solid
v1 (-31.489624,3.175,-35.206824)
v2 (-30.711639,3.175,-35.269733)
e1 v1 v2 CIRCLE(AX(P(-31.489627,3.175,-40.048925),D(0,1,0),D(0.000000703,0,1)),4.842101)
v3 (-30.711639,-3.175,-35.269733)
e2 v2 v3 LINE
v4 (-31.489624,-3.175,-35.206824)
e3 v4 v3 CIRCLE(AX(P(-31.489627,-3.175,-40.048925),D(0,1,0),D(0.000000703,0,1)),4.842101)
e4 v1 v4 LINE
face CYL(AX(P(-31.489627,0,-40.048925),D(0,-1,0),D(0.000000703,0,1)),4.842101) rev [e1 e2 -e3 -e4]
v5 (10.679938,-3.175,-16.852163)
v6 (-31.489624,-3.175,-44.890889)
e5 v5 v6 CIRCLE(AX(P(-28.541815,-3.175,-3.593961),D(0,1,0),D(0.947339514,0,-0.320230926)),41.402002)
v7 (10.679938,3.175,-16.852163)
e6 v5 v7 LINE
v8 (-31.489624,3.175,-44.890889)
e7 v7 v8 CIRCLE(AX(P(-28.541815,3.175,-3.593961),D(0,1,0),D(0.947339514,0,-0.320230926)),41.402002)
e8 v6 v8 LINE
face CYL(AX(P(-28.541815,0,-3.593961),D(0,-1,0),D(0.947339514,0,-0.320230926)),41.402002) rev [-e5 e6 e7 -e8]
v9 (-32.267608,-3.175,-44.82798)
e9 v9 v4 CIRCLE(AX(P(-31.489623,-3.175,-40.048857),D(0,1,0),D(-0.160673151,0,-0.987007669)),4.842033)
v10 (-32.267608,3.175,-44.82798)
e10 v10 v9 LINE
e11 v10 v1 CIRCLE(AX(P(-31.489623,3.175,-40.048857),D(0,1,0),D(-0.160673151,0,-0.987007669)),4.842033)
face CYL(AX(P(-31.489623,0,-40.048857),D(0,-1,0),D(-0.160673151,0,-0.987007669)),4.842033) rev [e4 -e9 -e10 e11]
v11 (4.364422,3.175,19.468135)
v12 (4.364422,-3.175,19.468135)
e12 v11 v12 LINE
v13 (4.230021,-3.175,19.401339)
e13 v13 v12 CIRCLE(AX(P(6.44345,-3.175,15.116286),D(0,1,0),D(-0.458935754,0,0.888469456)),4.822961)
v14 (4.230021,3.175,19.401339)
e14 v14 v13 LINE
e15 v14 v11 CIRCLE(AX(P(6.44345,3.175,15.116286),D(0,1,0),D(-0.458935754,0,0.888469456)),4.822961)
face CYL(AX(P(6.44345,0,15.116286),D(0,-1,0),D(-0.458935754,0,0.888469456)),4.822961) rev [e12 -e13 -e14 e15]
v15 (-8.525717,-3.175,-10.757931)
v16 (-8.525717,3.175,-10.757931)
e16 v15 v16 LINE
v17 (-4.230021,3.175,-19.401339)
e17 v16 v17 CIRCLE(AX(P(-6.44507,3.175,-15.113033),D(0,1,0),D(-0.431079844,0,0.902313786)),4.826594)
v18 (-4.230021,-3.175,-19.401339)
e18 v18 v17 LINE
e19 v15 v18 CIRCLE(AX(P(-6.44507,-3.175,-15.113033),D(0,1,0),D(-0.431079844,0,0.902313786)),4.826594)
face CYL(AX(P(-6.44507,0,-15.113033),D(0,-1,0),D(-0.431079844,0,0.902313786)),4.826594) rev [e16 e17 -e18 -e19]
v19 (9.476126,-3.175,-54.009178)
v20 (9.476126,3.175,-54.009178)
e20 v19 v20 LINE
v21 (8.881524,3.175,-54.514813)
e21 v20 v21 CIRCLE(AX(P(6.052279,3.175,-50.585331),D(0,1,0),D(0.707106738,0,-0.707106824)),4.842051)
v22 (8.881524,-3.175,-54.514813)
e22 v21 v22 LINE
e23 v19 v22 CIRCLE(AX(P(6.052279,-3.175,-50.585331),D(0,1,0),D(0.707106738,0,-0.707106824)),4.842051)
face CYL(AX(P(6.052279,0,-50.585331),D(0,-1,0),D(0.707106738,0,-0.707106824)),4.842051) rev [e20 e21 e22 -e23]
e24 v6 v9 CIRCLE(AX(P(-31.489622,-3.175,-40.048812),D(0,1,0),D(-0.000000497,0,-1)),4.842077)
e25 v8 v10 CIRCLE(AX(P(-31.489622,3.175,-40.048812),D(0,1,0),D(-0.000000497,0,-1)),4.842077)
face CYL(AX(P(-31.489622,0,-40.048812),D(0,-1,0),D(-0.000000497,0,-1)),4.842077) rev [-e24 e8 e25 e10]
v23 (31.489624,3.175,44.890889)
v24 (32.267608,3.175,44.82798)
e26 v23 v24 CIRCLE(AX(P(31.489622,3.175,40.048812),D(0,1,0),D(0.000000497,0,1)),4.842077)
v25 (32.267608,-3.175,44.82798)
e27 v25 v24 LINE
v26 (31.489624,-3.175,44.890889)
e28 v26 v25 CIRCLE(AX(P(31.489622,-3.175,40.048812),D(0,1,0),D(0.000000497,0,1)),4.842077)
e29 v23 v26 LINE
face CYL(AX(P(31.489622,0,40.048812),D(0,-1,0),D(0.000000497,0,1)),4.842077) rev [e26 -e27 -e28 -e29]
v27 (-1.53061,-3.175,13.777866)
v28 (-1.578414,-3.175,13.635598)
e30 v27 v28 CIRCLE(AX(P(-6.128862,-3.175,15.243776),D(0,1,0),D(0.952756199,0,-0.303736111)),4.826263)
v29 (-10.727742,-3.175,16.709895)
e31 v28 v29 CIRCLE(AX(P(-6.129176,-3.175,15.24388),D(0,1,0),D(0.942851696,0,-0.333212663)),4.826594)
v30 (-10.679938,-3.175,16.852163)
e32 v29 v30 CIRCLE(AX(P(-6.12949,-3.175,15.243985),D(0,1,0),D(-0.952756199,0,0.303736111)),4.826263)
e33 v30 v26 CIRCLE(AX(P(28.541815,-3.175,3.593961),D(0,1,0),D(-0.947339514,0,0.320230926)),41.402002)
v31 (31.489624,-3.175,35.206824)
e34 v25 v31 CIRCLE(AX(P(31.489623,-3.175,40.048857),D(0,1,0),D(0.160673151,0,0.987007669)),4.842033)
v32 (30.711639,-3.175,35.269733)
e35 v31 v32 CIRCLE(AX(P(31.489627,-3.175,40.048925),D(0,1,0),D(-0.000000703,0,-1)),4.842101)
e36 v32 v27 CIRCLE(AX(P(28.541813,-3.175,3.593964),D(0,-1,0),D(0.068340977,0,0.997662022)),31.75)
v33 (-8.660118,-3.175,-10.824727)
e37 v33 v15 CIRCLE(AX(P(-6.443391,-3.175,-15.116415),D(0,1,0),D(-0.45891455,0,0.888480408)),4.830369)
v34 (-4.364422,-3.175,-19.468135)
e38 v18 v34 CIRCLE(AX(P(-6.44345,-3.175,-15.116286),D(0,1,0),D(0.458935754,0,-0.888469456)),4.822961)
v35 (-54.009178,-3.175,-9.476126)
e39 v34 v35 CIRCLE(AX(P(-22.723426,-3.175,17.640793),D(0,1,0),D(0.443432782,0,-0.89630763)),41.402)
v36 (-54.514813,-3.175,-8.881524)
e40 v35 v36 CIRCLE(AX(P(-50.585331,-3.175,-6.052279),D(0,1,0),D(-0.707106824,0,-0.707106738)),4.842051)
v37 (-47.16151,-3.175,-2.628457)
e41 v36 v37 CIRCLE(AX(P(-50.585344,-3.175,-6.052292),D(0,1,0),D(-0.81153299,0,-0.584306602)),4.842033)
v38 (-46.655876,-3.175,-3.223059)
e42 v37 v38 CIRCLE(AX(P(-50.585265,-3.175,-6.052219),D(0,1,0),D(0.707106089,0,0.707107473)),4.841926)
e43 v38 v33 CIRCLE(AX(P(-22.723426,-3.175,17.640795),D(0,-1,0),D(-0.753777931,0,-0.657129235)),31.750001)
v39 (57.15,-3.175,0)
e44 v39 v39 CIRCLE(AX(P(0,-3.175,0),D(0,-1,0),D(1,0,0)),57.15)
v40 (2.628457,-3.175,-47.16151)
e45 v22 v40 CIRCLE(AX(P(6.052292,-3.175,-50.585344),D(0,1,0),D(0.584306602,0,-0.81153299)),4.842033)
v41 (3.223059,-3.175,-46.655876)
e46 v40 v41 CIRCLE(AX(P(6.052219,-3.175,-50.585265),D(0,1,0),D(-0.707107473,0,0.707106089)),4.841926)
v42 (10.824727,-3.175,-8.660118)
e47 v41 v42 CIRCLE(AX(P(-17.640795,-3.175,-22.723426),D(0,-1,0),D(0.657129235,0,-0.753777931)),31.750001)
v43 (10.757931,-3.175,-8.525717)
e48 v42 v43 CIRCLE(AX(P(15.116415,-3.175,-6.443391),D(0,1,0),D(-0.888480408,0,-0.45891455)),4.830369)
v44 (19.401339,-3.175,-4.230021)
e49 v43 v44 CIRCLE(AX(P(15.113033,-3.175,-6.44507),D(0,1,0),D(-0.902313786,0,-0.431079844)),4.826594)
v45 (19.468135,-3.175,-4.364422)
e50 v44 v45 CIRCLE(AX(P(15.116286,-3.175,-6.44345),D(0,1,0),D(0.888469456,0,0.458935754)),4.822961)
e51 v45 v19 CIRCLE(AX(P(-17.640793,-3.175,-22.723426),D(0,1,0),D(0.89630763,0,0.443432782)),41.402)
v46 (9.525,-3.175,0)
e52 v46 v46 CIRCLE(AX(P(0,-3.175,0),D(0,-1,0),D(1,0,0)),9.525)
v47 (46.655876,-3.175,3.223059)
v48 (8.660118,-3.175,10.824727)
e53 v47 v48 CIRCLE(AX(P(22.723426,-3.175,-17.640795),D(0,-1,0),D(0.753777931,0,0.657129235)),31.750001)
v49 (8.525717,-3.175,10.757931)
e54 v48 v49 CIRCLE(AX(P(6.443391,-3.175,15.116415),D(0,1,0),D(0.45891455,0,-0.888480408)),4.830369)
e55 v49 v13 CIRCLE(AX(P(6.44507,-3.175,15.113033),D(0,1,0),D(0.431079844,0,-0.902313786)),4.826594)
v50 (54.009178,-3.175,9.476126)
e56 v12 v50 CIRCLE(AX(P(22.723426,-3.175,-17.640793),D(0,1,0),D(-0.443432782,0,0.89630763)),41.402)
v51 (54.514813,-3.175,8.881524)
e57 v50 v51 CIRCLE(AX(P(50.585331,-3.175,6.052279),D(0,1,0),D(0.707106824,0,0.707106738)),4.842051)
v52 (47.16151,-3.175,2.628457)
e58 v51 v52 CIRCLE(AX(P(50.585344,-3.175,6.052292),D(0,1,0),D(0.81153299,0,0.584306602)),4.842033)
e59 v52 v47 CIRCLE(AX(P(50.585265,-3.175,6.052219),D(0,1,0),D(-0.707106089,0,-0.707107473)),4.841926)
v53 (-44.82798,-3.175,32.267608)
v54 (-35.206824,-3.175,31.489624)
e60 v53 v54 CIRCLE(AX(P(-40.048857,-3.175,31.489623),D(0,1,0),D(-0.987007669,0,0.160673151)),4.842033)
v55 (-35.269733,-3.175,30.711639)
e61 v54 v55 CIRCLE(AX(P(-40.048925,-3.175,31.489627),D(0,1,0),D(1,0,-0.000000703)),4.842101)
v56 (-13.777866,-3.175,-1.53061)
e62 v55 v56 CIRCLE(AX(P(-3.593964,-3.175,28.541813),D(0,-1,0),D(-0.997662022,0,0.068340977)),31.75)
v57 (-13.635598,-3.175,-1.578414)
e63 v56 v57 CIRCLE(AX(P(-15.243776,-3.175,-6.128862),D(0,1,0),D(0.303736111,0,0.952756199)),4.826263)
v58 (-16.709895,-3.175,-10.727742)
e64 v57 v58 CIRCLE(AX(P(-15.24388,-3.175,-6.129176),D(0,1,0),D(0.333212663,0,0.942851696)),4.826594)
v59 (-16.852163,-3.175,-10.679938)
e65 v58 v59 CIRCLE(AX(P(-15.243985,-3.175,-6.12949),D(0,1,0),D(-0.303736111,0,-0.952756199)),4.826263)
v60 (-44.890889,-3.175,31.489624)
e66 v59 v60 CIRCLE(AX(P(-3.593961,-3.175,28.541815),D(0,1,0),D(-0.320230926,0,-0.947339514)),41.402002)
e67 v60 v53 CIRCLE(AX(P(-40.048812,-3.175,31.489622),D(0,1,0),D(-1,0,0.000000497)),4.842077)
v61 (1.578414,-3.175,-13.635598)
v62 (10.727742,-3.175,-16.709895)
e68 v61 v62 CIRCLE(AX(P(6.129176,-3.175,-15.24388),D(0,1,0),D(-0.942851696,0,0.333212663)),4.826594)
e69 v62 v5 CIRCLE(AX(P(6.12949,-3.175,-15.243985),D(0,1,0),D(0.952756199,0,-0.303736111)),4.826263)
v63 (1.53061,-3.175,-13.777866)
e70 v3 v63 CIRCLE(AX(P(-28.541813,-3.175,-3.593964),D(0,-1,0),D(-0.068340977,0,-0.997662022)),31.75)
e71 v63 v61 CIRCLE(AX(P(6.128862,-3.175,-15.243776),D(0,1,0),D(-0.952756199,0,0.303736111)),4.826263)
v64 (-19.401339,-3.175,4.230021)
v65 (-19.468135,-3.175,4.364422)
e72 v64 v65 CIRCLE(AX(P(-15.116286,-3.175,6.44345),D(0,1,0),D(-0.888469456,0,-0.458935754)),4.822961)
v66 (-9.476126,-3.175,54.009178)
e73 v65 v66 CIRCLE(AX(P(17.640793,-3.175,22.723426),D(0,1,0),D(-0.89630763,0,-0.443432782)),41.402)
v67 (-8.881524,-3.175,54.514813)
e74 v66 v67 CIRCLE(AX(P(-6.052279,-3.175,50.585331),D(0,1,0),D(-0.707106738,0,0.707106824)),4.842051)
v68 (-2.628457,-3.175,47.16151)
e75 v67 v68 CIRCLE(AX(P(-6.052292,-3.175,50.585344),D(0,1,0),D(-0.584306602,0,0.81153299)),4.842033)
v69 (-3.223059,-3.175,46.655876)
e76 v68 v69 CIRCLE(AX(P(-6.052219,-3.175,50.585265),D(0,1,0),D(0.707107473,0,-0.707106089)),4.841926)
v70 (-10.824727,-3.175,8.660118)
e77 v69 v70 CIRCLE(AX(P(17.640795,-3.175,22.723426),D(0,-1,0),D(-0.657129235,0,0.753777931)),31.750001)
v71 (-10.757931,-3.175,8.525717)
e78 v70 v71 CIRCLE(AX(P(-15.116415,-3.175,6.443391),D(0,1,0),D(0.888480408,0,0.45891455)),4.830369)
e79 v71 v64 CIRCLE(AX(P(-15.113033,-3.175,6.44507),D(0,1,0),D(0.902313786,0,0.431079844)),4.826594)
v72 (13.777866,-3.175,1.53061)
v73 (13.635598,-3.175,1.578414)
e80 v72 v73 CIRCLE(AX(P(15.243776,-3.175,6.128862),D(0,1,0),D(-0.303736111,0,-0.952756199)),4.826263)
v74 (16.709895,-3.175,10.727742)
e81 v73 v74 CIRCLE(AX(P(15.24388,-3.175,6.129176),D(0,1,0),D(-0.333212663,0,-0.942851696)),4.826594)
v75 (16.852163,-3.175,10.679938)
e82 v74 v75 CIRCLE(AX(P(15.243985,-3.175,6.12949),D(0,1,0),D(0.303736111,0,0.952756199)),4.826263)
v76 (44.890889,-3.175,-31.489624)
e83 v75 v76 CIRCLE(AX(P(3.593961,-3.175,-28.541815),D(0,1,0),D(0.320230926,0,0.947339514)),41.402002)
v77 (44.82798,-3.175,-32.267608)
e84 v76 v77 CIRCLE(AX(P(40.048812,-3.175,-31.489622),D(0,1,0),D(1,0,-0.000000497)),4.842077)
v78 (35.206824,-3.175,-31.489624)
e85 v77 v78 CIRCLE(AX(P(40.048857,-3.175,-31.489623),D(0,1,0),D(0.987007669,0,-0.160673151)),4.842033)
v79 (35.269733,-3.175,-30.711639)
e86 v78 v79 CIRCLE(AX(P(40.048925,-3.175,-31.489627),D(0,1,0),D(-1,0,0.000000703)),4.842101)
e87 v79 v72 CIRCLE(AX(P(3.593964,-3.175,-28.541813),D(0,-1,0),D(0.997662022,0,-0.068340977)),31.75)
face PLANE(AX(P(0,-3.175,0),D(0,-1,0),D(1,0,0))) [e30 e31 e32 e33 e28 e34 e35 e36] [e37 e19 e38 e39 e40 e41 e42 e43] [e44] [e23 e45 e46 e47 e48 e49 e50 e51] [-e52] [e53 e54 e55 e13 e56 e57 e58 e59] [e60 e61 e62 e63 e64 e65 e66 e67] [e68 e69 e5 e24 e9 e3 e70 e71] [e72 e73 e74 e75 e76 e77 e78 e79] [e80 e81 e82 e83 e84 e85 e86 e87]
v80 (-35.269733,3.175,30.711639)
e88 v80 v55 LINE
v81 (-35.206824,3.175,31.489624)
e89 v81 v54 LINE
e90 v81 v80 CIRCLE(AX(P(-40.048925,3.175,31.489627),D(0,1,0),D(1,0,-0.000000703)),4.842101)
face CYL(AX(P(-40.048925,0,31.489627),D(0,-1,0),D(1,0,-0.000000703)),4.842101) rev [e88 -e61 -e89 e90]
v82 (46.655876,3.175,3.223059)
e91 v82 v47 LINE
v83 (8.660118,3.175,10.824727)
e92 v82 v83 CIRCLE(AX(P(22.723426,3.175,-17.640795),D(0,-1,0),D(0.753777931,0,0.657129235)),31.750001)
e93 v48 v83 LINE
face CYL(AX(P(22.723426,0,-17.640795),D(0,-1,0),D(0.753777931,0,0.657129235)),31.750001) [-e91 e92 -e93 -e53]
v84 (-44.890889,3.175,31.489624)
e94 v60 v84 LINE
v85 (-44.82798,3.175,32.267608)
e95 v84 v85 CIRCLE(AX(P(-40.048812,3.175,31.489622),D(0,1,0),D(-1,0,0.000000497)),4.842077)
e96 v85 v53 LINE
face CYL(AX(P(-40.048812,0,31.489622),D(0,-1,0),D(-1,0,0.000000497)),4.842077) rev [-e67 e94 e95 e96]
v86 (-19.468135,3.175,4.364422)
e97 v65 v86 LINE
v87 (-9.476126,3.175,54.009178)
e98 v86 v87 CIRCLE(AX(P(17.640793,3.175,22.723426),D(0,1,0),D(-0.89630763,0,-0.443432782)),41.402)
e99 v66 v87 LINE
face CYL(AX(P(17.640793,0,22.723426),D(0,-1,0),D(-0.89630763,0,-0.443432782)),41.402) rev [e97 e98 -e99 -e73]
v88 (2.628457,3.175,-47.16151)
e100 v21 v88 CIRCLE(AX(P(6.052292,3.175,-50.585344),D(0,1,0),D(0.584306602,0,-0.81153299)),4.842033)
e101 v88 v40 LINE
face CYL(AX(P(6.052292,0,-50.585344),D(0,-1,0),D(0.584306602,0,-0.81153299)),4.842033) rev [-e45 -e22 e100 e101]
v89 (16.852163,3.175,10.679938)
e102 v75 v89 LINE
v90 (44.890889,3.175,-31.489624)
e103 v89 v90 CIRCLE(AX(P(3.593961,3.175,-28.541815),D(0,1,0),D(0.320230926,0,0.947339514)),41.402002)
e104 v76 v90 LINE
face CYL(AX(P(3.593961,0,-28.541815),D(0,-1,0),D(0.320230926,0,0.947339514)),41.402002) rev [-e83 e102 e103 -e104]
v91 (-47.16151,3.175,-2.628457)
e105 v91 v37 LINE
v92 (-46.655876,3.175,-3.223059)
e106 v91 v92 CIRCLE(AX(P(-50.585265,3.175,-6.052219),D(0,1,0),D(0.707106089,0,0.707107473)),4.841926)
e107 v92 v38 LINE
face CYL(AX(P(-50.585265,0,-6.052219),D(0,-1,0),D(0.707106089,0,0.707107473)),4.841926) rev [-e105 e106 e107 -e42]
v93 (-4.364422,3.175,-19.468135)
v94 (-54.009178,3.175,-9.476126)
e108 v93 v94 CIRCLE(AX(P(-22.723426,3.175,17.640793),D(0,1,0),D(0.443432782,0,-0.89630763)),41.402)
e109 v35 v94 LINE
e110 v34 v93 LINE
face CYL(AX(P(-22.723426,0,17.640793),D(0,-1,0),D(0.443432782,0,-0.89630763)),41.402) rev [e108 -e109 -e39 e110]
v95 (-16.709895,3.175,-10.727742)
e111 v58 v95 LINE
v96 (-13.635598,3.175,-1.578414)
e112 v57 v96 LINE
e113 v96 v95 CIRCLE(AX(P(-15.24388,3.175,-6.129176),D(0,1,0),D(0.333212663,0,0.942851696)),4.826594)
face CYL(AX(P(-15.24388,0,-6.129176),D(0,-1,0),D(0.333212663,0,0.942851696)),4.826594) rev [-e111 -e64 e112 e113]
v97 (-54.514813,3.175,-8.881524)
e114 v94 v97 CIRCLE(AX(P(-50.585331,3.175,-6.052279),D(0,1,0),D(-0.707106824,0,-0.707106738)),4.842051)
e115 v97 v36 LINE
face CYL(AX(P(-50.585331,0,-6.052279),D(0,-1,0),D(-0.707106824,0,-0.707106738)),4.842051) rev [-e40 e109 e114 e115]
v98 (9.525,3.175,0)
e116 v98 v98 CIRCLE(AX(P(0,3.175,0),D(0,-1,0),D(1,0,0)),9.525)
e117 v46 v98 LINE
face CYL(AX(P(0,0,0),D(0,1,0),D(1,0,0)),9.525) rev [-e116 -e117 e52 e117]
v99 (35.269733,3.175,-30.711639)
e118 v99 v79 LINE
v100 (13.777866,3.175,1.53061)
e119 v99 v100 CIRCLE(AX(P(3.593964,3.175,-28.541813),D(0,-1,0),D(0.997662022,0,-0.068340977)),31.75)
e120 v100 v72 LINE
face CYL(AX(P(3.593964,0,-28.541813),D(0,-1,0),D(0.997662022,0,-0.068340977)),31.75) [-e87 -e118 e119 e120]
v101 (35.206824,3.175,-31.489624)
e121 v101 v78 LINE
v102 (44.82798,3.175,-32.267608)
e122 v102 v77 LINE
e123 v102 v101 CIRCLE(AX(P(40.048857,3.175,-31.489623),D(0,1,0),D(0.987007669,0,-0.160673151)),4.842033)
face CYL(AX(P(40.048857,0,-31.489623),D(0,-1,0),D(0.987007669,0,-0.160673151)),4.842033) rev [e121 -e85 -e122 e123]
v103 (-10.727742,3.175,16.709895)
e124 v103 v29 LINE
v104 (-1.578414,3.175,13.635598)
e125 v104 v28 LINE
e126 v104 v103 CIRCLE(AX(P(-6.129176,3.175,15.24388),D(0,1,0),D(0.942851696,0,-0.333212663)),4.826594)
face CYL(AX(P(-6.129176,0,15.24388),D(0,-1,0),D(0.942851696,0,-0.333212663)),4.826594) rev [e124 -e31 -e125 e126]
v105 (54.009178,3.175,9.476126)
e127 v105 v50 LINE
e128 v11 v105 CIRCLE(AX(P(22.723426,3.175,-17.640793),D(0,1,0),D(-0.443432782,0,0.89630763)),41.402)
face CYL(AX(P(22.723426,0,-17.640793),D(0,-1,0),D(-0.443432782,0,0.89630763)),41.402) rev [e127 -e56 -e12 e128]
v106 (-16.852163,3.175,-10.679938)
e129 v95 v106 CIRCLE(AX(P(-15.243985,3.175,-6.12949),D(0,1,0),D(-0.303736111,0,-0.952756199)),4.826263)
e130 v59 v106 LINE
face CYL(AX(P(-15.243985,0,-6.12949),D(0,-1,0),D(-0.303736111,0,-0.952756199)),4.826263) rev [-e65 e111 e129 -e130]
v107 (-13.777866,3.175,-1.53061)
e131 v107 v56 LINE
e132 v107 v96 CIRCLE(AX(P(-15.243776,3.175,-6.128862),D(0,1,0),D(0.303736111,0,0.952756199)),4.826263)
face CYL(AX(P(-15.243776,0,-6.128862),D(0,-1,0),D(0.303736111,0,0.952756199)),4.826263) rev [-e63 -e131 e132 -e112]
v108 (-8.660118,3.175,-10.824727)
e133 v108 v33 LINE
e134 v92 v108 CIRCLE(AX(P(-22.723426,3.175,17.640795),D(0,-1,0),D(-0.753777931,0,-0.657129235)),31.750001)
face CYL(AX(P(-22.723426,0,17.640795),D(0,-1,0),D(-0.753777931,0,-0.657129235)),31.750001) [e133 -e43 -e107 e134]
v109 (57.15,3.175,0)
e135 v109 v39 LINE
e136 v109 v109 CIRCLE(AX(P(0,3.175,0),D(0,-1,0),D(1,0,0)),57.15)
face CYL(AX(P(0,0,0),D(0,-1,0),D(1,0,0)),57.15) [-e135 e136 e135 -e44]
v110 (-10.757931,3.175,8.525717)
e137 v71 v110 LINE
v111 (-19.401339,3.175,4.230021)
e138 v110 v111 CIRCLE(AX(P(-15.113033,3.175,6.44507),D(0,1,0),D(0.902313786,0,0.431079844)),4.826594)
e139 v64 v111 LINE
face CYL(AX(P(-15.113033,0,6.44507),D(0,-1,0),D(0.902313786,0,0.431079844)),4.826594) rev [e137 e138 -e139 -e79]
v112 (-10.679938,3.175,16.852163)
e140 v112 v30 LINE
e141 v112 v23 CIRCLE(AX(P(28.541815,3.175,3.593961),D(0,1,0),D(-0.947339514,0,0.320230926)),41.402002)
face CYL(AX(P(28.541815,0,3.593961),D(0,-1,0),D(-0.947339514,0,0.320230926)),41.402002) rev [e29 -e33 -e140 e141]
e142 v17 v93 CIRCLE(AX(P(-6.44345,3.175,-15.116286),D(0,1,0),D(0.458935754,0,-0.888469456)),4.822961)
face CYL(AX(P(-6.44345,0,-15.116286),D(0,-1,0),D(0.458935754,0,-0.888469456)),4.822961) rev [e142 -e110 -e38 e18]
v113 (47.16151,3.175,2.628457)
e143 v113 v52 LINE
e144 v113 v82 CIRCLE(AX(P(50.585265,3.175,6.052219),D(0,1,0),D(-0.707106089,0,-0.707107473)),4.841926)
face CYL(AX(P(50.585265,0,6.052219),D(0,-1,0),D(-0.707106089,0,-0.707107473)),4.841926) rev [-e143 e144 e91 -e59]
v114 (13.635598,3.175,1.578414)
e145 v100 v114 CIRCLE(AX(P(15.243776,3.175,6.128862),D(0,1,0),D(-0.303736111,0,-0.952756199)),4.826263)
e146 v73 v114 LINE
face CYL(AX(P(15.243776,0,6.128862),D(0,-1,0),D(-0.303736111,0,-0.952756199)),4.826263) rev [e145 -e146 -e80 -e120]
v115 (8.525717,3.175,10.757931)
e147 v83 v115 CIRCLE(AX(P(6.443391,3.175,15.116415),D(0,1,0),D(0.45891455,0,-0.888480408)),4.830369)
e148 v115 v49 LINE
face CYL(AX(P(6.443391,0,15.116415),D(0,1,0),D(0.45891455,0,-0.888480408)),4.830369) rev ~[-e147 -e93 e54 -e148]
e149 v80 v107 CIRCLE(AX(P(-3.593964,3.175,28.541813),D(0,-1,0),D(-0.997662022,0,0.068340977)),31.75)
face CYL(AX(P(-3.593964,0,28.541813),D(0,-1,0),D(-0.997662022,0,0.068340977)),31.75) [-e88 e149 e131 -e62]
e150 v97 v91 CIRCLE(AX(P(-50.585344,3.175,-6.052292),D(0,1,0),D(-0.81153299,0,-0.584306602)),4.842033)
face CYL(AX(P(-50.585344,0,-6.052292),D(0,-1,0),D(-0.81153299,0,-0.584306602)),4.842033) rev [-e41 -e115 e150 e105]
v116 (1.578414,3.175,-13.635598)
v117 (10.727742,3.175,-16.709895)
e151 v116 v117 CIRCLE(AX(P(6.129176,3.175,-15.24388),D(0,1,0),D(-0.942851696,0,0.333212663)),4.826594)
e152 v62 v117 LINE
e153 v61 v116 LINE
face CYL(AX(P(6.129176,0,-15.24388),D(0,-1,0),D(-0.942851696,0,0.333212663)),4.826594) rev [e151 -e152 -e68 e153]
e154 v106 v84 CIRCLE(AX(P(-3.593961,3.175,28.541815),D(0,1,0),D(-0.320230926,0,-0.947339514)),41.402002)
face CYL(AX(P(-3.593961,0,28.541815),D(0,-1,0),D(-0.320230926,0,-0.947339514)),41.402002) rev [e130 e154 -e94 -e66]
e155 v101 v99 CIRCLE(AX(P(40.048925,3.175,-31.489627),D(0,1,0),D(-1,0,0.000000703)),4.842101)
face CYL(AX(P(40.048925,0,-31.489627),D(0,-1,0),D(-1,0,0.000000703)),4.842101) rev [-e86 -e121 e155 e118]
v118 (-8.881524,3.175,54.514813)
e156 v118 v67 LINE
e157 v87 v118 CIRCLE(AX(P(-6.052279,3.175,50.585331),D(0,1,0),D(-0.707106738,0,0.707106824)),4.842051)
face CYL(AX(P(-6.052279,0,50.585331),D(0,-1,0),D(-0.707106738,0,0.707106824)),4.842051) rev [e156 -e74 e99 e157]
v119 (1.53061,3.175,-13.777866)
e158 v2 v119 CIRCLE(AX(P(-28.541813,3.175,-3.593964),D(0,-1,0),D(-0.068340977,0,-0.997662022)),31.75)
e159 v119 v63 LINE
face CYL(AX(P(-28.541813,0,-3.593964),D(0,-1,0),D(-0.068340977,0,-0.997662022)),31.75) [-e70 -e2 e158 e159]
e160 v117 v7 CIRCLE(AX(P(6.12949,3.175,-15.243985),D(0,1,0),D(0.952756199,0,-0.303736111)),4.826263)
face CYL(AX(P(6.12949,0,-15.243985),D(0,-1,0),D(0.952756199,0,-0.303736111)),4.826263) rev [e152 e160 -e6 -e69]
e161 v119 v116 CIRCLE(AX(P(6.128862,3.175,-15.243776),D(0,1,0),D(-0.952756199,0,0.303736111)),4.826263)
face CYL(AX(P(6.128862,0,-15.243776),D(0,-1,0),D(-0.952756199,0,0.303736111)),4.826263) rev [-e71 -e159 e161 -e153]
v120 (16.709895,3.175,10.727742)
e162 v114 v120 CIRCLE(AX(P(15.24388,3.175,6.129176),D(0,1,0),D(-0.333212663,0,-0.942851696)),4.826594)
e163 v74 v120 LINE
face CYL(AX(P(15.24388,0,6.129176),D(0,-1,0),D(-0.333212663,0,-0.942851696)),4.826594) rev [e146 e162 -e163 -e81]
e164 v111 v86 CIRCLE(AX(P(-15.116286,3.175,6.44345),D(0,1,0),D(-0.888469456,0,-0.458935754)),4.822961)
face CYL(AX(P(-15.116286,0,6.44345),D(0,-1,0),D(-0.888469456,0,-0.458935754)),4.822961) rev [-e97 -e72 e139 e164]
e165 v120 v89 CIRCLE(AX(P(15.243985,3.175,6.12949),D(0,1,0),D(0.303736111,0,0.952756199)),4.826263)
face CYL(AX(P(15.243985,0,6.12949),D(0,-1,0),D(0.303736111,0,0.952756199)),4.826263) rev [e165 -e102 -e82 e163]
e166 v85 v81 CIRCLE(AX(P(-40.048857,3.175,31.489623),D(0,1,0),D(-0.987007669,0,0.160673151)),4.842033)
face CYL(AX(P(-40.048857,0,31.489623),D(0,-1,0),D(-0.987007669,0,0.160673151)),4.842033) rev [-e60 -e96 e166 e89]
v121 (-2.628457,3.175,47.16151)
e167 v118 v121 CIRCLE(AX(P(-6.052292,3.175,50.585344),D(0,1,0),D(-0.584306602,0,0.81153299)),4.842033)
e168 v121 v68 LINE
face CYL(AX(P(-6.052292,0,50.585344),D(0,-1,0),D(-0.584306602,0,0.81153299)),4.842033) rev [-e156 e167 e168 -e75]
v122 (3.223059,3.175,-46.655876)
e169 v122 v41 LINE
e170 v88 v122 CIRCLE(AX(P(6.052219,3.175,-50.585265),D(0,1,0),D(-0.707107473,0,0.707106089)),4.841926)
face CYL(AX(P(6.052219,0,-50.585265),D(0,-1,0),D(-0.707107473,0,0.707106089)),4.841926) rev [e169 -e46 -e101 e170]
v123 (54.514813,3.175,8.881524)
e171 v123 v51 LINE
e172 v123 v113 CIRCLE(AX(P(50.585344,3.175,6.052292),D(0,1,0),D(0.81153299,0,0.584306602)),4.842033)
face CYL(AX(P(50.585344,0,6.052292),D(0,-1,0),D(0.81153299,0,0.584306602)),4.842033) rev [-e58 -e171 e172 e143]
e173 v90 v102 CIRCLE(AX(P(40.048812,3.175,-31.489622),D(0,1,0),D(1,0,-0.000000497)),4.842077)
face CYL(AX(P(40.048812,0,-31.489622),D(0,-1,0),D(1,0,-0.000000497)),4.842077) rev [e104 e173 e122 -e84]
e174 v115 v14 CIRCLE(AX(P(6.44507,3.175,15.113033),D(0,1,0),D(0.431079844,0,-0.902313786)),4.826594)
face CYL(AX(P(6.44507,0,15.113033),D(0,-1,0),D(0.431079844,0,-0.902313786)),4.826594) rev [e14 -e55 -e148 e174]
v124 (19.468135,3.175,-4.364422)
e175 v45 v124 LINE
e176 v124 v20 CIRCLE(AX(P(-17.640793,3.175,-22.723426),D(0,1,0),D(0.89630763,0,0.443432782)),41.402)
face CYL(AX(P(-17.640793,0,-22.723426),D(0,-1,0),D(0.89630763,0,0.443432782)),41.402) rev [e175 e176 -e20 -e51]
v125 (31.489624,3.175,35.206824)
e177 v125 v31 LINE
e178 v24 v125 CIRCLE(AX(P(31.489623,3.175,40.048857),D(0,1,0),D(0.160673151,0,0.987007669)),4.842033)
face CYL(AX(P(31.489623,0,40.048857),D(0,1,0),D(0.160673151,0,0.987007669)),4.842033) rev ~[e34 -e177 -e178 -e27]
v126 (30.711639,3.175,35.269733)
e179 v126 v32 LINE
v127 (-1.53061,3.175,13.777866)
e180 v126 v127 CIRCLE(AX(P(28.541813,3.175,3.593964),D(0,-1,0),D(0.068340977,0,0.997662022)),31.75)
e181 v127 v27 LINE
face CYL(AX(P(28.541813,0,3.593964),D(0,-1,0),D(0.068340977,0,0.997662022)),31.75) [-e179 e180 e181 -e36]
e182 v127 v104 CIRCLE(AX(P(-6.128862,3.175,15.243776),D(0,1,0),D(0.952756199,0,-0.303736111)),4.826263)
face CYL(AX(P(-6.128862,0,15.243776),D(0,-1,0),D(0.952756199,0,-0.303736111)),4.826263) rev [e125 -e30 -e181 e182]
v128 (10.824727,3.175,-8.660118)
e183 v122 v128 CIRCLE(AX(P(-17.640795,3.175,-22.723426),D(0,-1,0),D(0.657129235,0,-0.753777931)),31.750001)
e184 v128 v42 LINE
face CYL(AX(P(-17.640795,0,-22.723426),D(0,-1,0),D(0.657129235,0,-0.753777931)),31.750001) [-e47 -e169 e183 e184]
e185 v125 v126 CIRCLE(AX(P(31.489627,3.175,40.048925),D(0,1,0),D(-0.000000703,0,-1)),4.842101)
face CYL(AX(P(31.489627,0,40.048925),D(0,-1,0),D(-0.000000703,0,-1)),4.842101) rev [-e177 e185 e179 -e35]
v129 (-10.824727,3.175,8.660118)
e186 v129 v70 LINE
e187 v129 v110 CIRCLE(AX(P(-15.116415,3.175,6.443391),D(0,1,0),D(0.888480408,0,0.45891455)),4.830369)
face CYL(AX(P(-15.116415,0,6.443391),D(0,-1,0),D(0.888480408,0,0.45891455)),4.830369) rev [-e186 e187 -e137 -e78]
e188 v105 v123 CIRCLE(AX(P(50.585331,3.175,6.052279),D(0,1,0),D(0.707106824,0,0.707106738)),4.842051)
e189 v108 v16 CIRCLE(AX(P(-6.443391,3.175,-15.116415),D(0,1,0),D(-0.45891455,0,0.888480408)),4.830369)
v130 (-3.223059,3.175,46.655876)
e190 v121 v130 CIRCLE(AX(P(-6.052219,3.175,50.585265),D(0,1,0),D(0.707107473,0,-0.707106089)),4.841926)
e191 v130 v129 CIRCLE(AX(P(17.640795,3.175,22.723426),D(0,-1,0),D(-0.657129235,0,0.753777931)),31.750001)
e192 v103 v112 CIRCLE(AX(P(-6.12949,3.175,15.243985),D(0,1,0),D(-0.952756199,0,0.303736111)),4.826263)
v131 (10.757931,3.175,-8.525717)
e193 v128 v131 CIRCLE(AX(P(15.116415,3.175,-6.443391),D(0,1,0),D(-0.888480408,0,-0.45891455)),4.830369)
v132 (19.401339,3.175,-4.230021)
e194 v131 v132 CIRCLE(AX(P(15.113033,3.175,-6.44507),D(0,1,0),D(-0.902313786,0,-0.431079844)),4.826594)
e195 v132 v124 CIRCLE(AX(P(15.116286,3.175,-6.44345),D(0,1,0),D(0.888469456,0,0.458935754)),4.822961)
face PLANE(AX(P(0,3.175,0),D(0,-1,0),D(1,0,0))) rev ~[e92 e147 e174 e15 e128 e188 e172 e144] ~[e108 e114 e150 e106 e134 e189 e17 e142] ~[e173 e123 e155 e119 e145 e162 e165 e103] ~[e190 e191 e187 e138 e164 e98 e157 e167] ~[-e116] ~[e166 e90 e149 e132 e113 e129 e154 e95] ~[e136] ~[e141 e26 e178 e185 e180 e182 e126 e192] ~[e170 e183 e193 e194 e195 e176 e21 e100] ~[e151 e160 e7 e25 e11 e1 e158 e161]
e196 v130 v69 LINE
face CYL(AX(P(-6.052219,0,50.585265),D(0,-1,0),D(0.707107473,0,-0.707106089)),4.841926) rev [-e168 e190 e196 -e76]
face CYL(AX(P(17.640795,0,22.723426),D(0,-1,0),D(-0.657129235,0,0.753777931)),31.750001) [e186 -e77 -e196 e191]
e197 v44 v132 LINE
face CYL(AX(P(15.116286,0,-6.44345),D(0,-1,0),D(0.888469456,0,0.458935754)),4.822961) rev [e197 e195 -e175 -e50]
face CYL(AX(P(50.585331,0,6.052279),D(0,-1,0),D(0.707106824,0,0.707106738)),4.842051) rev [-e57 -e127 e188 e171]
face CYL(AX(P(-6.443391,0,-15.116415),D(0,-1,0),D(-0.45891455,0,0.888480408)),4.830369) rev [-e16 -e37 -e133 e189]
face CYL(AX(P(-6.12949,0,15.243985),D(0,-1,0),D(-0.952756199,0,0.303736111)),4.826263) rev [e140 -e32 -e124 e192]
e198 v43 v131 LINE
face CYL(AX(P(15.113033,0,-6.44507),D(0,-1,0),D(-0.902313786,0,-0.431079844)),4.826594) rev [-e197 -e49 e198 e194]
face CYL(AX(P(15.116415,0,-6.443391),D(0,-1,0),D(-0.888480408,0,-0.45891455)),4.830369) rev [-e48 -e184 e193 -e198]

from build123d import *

# Parameters (mm, degrees)
F0_R     = 57.15
F0_R_2   = 9.525
F1_DEPTH = 3.175


with BuildPart() as f1:
    # F0 (on Front) → F1 (new body, symmetric)
    with BuildSketch(Plane.XZ):
        Circle(F0_R)
        with BuildLine():
            ThreePointArc((-32.267608, -44.82798), (-36.315903, -39.658594), (-31.489624, -35.206824))
            ThreePointArc((-31.489624, -35.206824), (-31.099362, -35.222577), (-30.711639, -35.269733))
            ThreePointArc((-30.711639, -35.269733), (-10.931764, -30.012682), (1.53061, -13.777866))
            ThreePointArc((1.53061, -13.777866), (1.553959, -13.706546), (1.578414, -13.635598))
            ThreePointArc((1.578414, -13.635598), (7.66651, -10.668663), (10.727742, -16.709895))
            ThreePointArc((10.727742, -16.709895), (10.704393, -16.781215), (10.679938, -16.852163))
            ThreePointArc((10.679938, -16.852163), (-5.618196, -38.070526), (-31.489624, -44.890889))
            ThreePointArc((-31.489624, -44.890889), (-31.879886, -44.875136), (-32.267608, -44.82798))
        make_face(mode=Mode.SUBTRACT)
        with BuildLine():
            ThreePointArc((-54.514813, -8.881524), (-53.722082, -2.36364), (-47.16151, -2.628457))
            ThreePointArc((-47.16151, -2.628457), (-46.896692, -2.915553), (-46.655876, -3.223059))
            ThreePointArc((-46.655876, -3.223059), (-28.952096, -13.492246), (-8.660118, -10.824727))
            ThreePointArc((-8.660118, -10.824727), (-8.593177, -10.790807), (-8.525717, -10.757931))
            ThreePointArc((-8.525717, -10.757931), (-2.122843, -12.964926), (-4.230021, -19.401339))
            ThreePointArc((-4.230021, -19.401339), (-4.296962, -19.43526), (-4.364422, -19.468135))
            ThreePointArc((-4.364422, -19.468135), (-30.892592, -22.947263), (-54.009178, -9.476126))
            ThreePointArc((-54.009178, -9.476126), (-54.273996, -9.18903), (-54.514813, -8.881524))
        make_face(mode=Mode.SUBTRACT)
        with BuildLine():
            ThreePointArc((8.881524, -54.514813), (2.36364, -53.722082), (2.628457, -47.16151))
            ThreePointArc((2.628457, -47.16151), (2.915553, -46.896692), (3.223059, -46.655876))
            ThreePointArc((3.223059, -46.655876), (13.492246, -28.952096), (10.824727, -8.660118))
            ThreePointArc((10.824727, -8.660118), (10.790807, -8.593177), (10.757931, -8.525717))
            ThreePointArc((10.757931, -8.525717), (12.964926, -2.122843), (19.401339, -4.230021))
            ThreePointArc((19.401339, -4.230021), (19.43526, -4.296962), (19.468135, -4.364422))
            ThreePointArc((19.468135, -4.364422), (22.947263, -30.892592), (9.476126, -54.009178))
            ThreePointArc((9.476126, -54.009178), (9.18903, -54.273996), (8.881524, -54.514813))
        make_face(mode=Mode.SUBTRACT)
        with BuildLine():
            ThreePointArc((44.82798, -32.267608), (39.658594, -36.315903), (35.206824, -31.489624))
            ThreePointArc((35.206824, -31.489624), (35.222577, -31.099362), (35.269733, -30.711639))
            ThreePointArc((35.269733, -30.711639), (30.012682, -10.931764), (13.777866, 1.53061))
            ThreePointArc((13.777866, 1.53061), (13.706546, 1.553959), (13.635598, 1.578414))
            ThreePointArc((13.635598, 1.578414), (10.668663, 7.66651), (16.709895, 10.727742))
            ThreePointArc((16.709895, 10.727742), (16.781215, 10.704393), (16.852163, 10.679938))
            ThreePointArc((16.852163, 10.679938), (38.070526, -5.618196), (44.890889, -31.489624))
            ThreePointArc((44.890889, -31.489624), (44.875136, -31.879886), (44.82798, -32.267608))
        make_face(mode=Mode.SUBTRACT)
        with BuildLine():
            ThreePointArc((-44.82798, 32.267608), (-39.658594, 36.315903), (-35.206824, 31.489624))
            ThreePointArc((-35.206824, 31.489624), (-35.222577, 31.099362), (-35.269733, 30.711639))
            ThreePointArc((-35.269733, 30.711639), (-30.012682, 10.931764), (-13.777866, -1.53061))
            ThreePointArc((-13.777866, -1.53061), (-13.706546, -1.553959), (-13.635598, -1.578414))
            ThreePointArc((-13.635598, -1.578414), (-10.668663, -7.66651), (-16.709895, -10.727742))
            ThreePointArc((-16.709895, -10.727742), (-16.781215, -10.704393), (-16.852163, -10.679938))
            ThreePointArc((-16.852163, -10.679938), (-38.070526, 5.618196), (-44.890889, 31.489624))
            ThreePointArc((-44.890889, 31.489624), (-44.875136, 31.879886), (-44.82798, 32.267608))
        make_face(mode=Mode.SUBTRACT)
        with BuildLine():
            ThreePointArc((-8.881524, 54.514813), (-2.36364, 53.722082), (-2.628457, 47.16151))
            ThreePointArc((-2.628457, 47.16151), (-2.915553, 46.896692), (-3.223059, 46.655876))
            ThreePointArc((-3.223059, 46.655876), (-13.492246, 28.952096), (-10.824727, 8.660118))
            ThreePointArc((-10.824727, 8.660118), (-10.790807, 8.593177), (-10.757931, 8.525717))
            ThreePointArc((-10.757931, 8.525717), (-12.964926, 2.122843), (-19.401339, 4.230021))
            ThreePointArc((-19.401339, 4.230021), (-19.43526, 4.296962), (-19.468135, 4.364422))
            ThreePointArc((-19.468135, 4.364422), (-22.947263, 30.892592), (-9.476126, 54.009178))
            ThreePointArc((-9.476126, 54.009178), (-9.18903, 54.273996), (-8.881524, 54.514813))
        make_face(mode=Mode.SUBTRACT)
        Circle(F0_R_2, mode=Mode.SUBTRACT)
        with BuildLine():
            ThreePointArc((54.514813, 8.881524), (53.722082, 2.36364), (47.16151, 2.628457))
            ThreePointArc((47.16151, 2.628457), (46.896692, 2.915553), (46.655876, 3.223059))
            ThreePointArc((46.655876, 3.223059), (28.952096, 13.492246), (8.660118, 10.824727))
            ThreePointArc((8.660118, 10.824727), (8.593177, 10.790807), (8.525717, 10.757931))
            ThreePointArc((8.525717, 10.757931), (2.122843, 12.964926), (4.230021, 19.401339))
            ThreePointArc((4.230021, 19.401339), (4.296962, 19.43526), (4.364422, 19.468135))
            ThreePointArc((4.364422, 19.468135), (30.892592, 22.947263), (54.009178, 9.476126))
            ThreePointArc((54.009178, 9.476126), (54.273996, 9.18903), (54.514813, 8.881524))
        make_face(mode=Mode.SUBTRACT)
        with BuildLine():
            ThreePointArc((32.267608, 44.82798), (36.315903, 39.658594), (31.489624, 35.206824))
            ThreePointArc((31.489624, 35.206824), (31.099362, 35.222577), (30.711639, 35.269733))
            ThreePointArc((30.711639, 35.269733), (10.931764, 30.012682), (-1.53061, 13.777866))
            ThreePointArc((-1.53061, 13.777866), (-1.553959, 13.706546), (-1.578414, 13.635598))
            ThreePointArc((-1.578414, 13.635598), (-7.66651, 10.668663), (-10.727742, 16.709895))
            ThreePointArc((-10.727742, 16.709895), (-10.704393, 16.781215), (-10.679938, 16.852163))
            ThreePointArc((-10.679938, 16.852163), (5.618196, 38.070526), (31.489624, 44.890889))
            ThreePointArc((31.489624, 44.890889), (31.879886, 44.875136), (32.267608, 44.82798))
        make_face(mode=Mode.SUBTRACT)
    extrude(amount=F1_DEPTH, both=True)


solid = f1.part
